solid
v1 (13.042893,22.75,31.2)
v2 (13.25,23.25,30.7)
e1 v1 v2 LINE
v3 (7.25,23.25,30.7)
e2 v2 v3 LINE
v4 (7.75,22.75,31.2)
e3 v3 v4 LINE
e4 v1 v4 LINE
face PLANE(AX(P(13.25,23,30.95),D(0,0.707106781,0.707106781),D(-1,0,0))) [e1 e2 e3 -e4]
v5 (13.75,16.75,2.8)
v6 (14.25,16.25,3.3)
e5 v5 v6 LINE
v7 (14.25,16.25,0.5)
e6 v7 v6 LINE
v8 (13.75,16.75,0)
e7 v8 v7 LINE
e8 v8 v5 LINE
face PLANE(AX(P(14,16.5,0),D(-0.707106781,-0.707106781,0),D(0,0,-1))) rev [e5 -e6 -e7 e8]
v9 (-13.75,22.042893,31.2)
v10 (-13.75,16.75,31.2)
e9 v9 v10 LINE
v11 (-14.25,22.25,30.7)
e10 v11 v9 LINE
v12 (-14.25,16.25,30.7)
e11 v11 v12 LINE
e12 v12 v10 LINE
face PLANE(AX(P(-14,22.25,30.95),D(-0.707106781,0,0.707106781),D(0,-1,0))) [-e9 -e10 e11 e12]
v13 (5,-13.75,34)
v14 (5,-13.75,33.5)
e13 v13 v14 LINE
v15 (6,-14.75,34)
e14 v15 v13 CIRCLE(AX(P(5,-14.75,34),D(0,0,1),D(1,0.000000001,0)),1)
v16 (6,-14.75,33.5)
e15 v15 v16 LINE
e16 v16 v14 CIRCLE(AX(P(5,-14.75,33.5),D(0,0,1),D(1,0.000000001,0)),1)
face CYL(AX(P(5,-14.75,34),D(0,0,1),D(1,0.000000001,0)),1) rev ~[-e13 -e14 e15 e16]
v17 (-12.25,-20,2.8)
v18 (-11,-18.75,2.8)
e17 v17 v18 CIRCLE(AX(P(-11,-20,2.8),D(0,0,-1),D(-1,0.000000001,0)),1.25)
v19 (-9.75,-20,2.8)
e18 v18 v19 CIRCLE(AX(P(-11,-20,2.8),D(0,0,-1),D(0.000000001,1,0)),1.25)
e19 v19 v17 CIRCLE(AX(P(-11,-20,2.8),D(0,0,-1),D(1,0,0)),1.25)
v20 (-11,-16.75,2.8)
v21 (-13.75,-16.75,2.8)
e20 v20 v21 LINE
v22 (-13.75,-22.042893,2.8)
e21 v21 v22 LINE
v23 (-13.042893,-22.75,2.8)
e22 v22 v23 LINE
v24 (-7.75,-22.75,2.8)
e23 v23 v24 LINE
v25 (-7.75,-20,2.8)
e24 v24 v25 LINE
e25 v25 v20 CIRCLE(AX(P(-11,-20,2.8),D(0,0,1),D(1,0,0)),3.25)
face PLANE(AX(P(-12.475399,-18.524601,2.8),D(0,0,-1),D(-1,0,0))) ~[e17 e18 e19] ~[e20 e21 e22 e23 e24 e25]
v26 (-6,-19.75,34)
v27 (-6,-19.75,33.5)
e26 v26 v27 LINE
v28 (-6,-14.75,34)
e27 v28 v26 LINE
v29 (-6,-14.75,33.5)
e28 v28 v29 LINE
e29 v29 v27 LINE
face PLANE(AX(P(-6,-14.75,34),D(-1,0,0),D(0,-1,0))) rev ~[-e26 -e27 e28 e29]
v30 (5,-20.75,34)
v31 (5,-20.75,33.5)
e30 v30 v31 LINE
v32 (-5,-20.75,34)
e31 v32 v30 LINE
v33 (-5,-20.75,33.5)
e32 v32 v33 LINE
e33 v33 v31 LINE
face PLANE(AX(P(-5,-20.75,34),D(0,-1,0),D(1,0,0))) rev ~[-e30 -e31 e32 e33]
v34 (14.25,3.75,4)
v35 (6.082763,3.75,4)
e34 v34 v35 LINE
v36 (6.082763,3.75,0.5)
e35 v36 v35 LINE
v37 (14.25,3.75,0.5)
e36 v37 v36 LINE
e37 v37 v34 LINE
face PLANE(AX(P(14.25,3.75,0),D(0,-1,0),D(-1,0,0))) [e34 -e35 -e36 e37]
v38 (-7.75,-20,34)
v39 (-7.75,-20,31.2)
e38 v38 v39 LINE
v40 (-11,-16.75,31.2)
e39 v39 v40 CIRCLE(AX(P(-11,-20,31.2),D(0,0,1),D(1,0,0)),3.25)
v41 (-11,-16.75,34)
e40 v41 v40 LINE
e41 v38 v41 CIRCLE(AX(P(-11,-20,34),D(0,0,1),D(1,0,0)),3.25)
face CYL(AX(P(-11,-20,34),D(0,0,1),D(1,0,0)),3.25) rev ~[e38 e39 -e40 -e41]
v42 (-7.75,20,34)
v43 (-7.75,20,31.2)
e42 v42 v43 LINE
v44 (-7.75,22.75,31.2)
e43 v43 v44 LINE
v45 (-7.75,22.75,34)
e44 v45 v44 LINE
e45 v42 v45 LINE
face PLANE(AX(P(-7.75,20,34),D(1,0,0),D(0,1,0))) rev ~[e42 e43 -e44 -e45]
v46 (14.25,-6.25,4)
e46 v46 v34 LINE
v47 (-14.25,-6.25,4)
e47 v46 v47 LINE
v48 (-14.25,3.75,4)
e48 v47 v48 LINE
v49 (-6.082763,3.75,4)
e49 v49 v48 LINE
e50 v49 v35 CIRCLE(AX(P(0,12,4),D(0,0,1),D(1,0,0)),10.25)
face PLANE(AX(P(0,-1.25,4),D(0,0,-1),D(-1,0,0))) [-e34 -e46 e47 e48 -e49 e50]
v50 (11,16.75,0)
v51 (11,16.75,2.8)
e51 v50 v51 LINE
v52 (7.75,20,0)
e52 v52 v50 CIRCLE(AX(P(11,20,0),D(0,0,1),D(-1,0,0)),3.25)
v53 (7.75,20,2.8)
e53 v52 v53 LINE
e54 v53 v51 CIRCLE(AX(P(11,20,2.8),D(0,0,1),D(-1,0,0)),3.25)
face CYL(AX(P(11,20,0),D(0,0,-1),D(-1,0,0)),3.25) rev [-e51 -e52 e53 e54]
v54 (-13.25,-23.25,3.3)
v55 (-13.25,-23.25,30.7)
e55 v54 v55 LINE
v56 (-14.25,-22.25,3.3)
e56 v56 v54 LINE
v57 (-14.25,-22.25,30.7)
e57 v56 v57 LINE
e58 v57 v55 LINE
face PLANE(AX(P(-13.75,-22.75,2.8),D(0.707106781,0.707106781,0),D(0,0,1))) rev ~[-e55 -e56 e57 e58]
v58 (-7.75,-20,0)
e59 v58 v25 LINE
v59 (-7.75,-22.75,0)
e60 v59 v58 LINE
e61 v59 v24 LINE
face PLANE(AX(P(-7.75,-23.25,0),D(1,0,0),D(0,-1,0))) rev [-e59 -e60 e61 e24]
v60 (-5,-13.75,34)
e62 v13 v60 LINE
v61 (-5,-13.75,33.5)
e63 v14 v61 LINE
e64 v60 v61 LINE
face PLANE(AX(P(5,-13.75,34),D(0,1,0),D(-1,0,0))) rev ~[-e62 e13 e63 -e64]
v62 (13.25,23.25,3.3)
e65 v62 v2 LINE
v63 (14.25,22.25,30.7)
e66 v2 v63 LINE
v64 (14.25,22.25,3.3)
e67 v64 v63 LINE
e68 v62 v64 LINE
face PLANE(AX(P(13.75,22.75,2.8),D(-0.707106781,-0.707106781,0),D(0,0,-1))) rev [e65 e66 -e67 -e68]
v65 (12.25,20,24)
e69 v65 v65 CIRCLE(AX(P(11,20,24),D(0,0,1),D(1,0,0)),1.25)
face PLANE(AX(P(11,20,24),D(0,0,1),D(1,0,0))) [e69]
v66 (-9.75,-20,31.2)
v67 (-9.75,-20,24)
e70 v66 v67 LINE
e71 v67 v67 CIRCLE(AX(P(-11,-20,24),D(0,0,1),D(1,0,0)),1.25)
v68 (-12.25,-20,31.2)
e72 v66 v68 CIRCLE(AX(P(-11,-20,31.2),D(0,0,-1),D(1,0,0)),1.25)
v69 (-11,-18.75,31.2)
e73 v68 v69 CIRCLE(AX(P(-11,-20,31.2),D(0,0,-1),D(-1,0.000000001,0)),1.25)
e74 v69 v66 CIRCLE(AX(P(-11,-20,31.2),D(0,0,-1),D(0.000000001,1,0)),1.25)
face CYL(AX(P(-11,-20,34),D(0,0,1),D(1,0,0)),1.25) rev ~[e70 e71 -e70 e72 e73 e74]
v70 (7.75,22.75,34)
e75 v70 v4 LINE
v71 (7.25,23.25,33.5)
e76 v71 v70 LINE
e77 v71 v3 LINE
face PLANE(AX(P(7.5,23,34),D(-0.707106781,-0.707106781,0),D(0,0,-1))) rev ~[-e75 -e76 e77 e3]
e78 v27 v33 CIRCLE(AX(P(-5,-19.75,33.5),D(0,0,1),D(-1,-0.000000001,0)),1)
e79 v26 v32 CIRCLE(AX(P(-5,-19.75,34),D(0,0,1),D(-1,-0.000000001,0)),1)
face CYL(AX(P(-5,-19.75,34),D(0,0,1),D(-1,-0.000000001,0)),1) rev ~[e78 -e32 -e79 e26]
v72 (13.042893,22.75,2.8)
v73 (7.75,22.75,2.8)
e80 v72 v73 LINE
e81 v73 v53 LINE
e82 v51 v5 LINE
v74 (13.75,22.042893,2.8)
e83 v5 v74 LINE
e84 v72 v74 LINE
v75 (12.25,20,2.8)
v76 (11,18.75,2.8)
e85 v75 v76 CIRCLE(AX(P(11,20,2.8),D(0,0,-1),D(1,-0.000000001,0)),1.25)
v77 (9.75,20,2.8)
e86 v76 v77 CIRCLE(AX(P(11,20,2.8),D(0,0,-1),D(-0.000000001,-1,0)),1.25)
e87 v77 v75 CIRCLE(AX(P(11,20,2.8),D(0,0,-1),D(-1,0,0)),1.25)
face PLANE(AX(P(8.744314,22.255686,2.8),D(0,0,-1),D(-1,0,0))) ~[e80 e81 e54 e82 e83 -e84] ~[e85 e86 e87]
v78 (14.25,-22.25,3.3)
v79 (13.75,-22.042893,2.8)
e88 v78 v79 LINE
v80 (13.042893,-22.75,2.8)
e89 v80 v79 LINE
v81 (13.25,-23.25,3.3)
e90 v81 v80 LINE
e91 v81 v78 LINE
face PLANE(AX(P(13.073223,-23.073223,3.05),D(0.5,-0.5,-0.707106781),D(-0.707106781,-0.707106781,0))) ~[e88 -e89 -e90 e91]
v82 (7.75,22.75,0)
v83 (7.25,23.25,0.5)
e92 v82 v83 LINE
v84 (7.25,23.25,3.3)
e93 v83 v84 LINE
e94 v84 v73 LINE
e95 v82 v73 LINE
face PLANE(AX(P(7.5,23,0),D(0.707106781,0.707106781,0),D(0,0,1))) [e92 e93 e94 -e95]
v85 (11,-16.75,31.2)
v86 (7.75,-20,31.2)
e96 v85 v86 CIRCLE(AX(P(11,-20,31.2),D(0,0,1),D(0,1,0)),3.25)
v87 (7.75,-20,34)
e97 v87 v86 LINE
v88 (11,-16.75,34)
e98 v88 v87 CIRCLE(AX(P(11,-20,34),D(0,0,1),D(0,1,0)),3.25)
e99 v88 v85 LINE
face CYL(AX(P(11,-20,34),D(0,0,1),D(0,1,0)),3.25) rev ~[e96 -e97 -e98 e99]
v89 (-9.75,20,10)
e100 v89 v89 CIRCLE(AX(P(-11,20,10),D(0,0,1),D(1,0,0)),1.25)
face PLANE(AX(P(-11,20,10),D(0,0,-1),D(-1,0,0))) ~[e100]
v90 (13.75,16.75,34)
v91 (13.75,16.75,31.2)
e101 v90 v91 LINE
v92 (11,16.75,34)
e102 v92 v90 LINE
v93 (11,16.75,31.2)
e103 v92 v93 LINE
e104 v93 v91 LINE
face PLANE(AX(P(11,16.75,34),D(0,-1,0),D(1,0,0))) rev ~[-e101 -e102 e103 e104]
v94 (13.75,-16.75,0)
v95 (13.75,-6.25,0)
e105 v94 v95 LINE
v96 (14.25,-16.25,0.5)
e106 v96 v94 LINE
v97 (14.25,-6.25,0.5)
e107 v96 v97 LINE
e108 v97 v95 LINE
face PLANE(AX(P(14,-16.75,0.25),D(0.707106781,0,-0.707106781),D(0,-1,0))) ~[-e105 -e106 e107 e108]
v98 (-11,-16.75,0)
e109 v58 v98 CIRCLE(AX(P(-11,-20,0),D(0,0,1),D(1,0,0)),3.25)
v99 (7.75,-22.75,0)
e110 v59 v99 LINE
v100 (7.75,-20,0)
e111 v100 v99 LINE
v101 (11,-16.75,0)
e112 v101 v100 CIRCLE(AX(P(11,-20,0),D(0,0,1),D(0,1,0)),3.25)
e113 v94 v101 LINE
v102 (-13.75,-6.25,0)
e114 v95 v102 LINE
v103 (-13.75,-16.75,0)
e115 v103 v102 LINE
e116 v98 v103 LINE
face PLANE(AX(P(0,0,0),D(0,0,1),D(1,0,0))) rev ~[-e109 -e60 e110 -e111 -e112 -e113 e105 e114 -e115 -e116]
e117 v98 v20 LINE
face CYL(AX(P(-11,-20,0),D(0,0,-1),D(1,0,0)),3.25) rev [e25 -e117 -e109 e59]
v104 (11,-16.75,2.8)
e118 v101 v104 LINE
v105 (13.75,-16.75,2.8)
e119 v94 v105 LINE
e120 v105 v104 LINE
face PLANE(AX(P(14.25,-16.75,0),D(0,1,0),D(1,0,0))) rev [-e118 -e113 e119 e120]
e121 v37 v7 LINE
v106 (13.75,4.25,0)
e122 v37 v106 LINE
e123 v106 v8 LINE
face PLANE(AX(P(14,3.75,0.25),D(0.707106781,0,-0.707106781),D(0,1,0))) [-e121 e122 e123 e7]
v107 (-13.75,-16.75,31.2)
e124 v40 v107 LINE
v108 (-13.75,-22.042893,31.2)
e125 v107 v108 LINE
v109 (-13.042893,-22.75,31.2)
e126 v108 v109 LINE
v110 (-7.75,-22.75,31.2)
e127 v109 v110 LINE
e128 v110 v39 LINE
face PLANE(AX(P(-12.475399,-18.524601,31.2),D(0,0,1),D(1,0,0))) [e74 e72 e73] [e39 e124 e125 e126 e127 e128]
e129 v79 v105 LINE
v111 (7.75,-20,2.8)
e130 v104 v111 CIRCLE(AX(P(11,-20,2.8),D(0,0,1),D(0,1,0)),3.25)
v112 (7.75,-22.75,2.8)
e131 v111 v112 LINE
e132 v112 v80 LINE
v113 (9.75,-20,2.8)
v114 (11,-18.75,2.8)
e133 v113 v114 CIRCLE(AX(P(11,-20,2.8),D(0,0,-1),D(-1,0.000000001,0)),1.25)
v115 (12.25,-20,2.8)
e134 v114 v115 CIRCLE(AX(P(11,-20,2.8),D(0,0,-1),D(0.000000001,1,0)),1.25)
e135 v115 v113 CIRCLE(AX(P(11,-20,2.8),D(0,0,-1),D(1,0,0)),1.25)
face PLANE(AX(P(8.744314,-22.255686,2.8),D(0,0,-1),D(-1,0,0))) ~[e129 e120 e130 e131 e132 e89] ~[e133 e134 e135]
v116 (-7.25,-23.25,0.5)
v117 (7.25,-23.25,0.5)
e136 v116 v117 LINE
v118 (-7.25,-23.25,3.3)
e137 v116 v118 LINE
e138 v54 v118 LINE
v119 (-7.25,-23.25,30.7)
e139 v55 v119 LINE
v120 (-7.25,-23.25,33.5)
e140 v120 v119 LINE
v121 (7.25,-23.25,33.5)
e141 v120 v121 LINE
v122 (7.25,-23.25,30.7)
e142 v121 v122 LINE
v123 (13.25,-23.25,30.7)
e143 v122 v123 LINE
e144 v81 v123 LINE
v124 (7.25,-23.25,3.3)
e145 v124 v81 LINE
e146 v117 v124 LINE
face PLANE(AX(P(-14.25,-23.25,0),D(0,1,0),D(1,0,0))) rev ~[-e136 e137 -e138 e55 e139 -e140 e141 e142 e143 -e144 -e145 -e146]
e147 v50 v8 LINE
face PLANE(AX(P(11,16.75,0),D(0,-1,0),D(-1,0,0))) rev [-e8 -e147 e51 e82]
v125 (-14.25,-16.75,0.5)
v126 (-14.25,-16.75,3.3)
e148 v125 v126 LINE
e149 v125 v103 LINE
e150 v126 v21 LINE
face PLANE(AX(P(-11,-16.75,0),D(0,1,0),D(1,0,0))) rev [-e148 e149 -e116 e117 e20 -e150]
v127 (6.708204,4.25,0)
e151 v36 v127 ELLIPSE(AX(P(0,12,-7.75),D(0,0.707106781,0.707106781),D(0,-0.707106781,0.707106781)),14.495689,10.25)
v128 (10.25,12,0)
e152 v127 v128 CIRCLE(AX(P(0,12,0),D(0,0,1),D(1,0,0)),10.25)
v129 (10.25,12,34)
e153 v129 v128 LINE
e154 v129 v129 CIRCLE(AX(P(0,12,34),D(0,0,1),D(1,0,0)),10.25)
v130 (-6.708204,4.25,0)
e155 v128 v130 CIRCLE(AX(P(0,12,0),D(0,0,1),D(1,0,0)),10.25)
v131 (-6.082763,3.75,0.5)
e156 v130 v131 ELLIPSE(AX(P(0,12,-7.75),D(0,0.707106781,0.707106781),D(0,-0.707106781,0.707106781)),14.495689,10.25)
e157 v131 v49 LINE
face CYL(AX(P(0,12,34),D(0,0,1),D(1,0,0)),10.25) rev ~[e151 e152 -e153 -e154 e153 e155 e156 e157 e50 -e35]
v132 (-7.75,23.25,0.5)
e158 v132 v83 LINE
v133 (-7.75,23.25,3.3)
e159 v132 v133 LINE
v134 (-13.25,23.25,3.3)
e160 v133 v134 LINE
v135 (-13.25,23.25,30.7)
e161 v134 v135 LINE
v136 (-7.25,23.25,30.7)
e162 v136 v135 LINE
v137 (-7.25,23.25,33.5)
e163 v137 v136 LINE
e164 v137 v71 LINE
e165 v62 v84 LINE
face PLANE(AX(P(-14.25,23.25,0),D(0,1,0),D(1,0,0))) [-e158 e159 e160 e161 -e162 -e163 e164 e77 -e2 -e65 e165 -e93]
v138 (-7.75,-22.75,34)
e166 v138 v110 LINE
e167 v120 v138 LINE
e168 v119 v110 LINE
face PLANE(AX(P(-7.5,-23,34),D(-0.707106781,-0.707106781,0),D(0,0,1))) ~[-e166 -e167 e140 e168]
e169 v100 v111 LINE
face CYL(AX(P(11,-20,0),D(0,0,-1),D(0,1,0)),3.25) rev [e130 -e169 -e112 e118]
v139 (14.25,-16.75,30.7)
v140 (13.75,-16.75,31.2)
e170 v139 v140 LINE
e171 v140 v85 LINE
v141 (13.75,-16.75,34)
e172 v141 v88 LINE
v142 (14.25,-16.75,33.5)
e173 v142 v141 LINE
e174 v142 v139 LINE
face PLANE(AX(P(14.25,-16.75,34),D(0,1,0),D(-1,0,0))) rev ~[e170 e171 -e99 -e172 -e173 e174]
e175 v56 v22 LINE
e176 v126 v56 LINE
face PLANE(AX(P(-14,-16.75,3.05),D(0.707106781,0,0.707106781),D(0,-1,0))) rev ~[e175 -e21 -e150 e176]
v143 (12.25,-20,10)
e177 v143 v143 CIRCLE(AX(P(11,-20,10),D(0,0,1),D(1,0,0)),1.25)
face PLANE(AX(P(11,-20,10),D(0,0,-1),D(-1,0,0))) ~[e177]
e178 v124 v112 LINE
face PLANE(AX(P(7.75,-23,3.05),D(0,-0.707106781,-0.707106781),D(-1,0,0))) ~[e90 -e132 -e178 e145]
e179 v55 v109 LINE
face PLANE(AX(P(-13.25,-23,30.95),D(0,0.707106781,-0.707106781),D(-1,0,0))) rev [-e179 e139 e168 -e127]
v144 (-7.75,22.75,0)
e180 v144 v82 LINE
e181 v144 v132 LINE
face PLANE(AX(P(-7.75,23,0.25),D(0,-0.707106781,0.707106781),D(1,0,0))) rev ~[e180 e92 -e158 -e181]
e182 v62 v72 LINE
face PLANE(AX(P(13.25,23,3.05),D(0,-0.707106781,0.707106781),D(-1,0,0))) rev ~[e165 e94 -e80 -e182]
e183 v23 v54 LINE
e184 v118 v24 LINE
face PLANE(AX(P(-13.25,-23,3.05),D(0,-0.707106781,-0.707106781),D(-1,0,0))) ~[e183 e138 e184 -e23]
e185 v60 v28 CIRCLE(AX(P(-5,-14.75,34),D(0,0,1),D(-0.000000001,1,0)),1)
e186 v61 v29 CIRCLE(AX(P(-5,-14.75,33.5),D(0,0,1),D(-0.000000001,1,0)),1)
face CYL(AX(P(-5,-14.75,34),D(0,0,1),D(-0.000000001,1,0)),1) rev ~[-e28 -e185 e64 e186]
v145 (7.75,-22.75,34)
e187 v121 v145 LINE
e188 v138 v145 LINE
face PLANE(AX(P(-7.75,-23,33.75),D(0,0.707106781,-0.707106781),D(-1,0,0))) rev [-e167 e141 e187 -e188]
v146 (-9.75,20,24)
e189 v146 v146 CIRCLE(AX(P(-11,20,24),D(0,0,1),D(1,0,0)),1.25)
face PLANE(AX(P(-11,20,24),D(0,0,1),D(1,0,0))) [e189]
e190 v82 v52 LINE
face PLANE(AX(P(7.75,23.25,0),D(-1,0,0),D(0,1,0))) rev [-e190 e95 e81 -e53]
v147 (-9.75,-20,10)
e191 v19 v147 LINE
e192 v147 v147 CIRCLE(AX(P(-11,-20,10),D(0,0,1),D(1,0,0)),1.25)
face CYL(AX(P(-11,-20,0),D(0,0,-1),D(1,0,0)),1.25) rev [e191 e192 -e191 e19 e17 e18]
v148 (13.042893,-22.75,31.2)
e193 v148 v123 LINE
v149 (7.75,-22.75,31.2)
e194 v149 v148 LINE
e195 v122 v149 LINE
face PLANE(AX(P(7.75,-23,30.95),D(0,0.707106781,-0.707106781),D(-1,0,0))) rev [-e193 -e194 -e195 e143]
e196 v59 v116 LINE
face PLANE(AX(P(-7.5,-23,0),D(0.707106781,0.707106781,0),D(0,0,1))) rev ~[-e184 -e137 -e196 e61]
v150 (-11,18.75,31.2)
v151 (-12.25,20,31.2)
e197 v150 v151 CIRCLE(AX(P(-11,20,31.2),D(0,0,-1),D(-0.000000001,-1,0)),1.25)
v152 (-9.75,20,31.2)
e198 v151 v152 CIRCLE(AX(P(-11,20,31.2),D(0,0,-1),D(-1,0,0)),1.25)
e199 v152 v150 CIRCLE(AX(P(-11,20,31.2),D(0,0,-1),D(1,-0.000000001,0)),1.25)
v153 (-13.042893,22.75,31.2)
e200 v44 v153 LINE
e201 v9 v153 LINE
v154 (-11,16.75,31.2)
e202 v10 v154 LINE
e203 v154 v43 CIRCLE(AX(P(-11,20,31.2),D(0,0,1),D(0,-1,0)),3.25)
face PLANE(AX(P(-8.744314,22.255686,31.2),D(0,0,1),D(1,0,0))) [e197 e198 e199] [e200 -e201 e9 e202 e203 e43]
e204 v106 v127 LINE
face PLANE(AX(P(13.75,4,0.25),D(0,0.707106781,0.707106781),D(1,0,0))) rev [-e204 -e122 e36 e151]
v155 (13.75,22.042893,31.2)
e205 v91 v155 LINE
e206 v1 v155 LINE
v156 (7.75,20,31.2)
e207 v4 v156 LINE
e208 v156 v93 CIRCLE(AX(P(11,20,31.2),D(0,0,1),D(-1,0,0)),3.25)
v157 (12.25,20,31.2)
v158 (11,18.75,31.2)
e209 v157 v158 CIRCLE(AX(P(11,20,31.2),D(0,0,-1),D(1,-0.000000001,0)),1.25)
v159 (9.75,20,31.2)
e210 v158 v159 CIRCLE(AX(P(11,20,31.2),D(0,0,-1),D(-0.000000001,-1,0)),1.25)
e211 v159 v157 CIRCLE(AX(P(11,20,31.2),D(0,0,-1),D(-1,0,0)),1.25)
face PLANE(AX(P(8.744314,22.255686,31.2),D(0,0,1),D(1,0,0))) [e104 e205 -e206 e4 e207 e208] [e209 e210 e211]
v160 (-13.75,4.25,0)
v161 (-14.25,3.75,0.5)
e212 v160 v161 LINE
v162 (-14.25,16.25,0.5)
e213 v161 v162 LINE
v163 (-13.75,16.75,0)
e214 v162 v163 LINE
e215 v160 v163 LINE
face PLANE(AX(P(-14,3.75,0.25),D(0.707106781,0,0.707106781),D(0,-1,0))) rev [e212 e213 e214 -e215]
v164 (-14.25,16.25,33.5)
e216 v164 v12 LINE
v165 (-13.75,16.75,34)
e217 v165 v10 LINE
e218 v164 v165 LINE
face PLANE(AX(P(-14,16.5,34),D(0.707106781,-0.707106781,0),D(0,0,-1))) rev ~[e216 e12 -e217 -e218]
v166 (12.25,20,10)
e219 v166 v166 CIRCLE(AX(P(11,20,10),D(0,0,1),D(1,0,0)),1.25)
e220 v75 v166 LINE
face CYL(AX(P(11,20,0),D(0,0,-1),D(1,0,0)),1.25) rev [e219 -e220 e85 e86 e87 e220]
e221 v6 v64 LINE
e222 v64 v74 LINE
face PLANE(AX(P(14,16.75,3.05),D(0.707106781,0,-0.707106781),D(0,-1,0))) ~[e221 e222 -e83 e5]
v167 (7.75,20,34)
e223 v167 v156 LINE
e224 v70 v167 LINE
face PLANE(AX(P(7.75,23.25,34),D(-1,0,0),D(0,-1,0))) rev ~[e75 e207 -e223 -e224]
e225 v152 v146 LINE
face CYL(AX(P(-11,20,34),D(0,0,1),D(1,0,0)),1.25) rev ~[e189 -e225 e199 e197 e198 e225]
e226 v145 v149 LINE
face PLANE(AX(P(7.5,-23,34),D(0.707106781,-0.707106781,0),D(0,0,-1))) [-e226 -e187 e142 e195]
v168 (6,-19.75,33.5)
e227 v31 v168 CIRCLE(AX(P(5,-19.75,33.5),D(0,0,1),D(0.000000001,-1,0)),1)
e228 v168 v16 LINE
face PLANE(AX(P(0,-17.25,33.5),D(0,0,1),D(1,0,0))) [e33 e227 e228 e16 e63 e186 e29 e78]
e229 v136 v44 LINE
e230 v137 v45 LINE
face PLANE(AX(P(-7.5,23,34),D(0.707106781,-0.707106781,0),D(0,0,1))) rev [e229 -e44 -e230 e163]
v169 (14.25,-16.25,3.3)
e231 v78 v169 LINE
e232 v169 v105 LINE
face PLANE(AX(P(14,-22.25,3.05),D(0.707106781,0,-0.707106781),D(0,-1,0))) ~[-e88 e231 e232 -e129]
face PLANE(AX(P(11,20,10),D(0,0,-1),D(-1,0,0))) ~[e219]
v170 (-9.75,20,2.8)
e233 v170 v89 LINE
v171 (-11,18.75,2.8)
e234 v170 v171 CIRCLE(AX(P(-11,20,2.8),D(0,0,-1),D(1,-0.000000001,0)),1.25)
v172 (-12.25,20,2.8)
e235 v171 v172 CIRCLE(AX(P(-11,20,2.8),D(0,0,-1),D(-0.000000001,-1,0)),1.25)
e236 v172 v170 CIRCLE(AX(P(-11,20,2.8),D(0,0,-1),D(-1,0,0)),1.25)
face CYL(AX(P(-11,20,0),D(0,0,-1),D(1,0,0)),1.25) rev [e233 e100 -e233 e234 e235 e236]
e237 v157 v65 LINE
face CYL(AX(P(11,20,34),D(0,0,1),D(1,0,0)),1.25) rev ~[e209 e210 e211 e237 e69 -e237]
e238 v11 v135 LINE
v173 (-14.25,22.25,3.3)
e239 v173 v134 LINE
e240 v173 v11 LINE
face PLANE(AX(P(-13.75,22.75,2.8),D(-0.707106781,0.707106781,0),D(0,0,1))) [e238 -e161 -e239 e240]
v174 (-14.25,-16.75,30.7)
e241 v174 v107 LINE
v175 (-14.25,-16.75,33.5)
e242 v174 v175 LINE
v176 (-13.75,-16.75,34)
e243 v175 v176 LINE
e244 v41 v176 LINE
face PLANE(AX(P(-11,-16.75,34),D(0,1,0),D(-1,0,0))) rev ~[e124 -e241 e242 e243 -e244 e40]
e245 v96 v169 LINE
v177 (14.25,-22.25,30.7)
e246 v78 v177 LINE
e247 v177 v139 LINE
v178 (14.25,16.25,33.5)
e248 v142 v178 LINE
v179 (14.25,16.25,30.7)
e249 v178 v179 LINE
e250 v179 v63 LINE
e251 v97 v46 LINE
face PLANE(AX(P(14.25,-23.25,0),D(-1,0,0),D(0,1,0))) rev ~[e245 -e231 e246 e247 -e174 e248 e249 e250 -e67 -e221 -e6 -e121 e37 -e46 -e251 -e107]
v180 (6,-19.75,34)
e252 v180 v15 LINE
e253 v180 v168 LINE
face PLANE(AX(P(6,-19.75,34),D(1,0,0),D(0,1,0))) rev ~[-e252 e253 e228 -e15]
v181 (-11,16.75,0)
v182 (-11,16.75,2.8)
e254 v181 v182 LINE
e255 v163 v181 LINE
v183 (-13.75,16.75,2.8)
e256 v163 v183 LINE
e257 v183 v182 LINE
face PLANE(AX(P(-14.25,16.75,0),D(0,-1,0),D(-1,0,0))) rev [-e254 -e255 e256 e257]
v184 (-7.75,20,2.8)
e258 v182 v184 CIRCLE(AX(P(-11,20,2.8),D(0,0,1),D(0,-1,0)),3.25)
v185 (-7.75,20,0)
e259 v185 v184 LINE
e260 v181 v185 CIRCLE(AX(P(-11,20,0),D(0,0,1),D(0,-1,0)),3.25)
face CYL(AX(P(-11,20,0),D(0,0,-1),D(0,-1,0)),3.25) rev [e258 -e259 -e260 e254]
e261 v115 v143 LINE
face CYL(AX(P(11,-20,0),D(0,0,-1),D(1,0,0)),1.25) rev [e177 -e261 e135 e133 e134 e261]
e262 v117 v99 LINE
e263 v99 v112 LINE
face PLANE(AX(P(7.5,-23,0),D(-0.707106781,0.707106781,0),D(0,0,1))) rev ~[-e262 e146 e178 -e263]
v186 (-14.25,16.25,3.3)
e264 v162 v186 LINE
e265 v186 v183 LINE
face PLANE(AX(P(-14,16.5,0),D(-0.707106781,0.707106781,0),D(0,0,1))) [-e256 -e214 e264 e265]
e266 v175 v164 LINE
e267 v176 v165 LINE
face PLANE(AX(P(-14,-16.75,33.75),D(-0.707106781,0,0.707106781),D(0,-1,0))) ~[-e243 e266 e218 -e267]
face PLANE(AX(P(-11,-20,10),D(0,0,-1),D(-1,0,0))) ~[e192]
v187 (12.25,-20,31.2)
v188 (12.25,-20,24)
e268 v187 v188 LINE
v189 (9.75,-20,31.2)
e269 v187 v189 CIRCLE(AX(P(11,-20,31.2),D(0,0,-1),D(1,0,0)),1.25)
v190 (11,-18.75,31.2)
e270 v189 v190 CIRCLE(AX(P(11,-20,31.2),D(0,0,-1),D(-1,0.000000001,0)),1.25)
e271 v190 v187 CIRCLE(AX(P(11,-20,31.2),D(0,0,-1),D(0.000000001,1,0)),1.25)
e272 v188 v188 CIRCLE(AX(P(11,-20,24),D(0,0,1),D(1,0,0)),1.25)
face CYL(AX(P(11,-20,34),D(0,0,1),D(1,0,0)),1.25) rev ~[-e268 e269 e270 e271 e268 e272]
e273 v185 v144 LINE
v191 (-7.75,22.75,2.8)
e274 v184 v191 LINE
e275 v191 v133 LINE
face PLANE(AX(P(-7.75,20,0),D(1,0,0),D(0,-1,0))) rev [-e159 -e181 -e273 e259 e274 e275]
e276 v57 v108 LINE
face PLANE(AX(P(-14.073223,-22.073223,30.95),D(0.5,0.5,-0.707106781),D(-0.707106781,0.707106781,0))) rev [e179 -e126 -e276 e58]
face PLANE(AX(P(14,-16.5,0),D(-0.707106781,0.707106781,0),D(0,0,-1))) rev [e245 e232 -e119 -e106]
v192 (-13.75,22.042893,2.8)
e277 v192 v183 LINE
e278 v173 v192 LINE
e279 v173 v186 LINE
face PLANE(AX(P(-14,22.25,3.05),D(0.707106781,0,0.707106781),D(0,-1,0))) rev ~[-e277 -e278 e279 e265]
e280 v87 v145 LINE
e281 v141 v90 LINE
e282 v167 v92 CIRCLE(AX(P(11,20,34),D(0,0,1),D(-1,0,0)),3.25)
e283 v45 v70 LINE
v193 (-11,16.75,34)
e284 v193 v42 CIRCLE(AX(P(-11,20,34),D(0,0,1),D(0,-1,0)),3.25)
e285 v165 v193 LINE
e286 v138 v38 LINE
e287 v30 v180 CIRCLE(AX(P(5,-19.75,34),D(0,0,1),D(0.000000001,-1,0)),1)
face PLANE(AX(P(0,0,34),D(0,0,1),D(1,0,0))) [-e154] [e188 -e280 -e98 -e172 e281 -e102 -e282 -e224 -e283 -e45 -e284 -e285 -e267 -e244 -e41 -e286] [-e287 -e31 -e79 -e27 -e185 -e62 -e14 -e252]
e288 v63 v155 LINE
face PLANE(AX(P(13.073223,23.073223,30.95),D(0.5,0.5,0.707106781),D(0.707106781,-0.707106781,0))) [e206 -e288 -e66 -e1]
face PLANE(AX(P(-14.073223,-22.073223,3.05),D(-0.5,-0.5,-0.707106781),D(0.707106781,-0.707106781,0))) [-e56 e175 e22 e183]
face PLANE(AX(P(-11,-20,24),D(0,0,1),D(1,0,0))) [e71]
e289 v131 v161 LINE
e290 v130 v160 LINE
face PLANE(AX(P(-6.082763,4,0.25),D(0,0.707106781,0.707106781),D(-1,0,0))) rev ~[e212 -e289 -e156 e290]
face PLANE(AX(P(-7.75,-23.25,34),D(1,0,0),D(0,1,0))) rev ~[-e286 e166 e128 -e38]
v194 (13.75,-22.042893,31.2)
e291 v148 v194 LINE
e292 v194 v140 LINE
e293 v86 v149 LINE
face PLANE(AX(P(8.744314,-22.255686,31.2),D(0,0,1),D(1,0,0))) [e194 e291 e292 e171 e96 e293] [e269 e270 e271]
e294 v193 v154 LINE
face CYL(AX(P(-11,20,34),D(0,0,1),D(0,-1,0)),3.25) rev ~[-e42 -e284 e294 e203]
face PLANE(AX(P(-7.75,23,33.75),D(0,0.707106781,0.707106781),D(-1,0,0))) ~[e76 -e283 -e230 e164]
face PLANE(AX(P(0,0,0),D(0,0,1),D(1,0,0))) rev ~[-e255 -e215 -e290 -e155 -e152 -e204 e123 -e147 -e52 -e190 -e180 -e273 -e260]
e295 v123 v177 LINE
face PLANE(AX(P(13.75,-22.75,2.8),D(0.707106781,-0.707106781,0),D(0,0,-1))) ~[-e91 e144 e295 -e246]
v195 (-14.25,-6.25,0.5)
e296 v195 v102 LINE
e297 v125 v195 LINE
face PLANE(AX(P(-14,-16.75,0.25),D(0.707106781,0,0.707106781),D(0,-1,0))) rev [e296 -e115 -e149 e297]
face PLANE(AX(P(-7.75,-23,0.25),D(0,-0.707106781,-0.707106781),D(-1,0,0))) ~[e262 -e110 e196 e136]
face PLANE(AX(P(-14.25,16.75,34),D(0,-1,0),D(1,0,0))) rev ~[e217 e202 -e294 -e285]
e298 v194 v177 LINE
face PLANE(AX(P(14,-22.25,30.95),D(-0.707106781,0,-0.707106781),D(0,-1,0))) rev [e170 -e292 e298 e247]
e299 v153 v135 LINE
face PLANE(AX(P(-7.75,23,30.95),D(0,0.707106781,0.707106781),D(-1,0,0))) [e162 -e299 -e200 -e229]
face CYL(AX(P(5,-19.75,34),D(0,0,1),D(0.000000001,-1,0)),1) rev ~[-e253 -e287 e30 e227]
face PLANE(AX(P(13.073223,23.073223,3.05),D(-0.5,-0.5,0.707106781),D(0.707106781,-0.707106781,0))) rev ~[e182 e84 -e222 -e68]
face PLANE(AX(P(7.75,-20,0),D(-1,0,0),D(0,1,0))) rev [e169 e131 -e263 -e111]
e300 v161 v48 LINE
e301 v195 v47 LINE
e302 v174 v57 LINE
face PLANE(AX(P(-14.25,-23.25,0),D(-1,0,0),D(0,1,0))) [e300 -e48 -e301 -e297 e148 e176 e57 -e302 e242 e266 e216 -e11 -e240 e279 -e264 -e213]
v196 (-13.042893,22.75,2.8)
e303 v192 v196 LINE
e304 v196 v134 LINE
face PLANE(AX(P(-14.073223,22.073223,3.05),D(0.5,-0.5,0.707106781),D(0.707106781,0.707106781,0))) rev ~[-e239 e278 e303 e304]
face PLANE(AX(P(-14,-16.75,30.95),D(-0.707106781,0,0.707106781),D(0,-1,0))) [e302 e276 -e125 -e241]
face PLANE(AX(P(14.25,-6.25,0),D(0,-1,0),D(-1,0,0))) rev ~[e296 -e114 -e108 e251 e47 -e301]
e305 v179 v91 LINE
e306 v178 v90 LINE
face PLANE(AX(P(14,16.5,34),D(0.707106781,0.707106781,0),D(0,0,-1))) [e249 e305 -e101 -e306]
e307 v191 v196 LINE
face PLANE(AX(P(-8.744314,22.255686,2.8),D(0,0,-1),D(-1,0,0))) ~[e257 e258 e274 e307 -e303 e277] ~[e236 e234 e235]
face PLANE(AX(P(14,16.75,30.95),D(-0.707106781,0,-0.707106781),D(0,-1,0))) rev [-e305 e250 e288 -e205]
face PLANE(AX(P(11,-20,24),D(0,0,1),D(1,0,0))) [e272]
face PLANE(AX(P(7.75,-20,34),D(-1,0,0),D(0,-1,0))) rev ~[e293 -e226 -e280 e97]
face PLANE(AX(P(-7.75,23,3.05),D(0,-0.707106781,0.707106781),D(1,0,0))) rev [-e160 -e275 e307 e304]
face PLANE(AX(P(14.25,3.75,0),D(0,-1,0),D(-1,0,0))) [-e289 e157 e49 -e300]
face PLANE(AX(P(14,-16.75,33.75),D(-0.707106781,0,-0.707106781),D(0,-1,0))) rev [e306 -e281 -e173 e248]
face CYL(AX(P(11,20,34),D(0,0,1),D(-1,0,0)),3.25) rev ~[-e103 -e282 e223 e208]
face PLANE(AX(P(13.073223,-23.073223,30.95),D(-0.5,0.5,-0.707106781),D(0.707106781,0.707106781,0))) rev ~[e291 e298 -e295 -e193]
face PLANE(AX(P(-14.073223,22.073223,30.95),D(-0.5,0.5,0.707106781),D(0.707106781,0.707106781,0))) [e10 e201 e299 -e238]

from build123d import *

# Parameters (mm, degrees)
SKETCH1_W           = 28.5
SKETCH1_H           = 46.5
BOSS_EXTRUDE1_DEPTH = 34
SKETCH2_R           = 10.25
CUT_EXTRUDE1_DEPTH  = 35
SKETCH3_R           = 1.25
CUT_EXTRUDE2_DEPTH  = 10
CUT_EXTRUDE3_DEPTH  = 0.5
CUT_EXTRUDE4_DEPTH  = 2.8
SKETCH6_W           = 28.5
SKETCH6_H           = 10
CUT_EXTRUDE5_DEPTH  = 4
CHAMFER1_SIZE       = 1
CHAMFER2_SIZE       = 0.5
CHAMFER3_SIZE       = 0.5


with BuildPart() as part:
    # Sketch1 → Boss-Extrude1 (new body)
    with BuildSketch(Plane.XY):
        Rectangle(SKETCH1_W, SKETCH1_H)
    extrude(amount=BOSS_EXTRUDE1_DEPTH)

    # Sketch2 → Cut-Extrude1 (cut, through all)
    with BuildSketch(Plane.XY.offset(34)):
        with Locations((0, 12)):
            Circle(SKETCH2_R)
    extrude(amount=-CUT_EXTRUDE1_DEPTH, mode=Mode.SUBTRACT)

    # Sketch3 → Cut-Extrude2 (cut)
    with BuildSketch(Plane.XY.offset(34)):
        with Locations((-11, 20)):
            Circle(SKETCH3_R)
        with Locations((11, 20)):
            Circle(SKETCH3_R)
        with Locations((11, -20)):
            Circle(SKETCH3_R)
        with Locations((-11, -20)):
            Circle(SKETCH3_R)
    cut_extrude2 = extrude(amount=-CUT_EXTRUDE2_DEPTH, mode=Mode.SUBTRACT)

    # Sketch4 → Cut-Extrude3 (cut)
    with BuildSketch(Plane.XY.offset(34)):
        with BuildLine():
            Line((-5, -20.75), (5, -20.75))
            ThreePointArc((5, -20.75), (5.707106781, -20.457106781), (6, -19.75))
            Line((6, -19.75), (6, -14.75))
            ThreePointArc((6, -14.75), (5.707106781, -14.042893219), (5, -13.75))
            Line((5, -13.75), (-5, -13.75))
            ThreePointArc((-5, -13.75), (-5.707106781, -14.042893219), (-6, -14.75))
            Line((-6, -14.75), (-6, -19.75))
            ThreePointArc((-6, -19.75), (-5.707106781, -20.457106781), (-5, -20.75))
        make_face()
    extrude(amount=-CUT_EXTRUDE3_DEPTH, mode=Mode.SUBTRACT)

    # Sketch5 → Cut-Extrude4 (cut)
    with BuildSketch(Plane.XY.offset(34)):
        with BuildLine():
            Line((-7.75, 23.25), (-11, 23.25))
            ThreePointArc((-11, 23.25), (-8.701902961, 22.298097039), (-7.75, 20))
            Line((-7.75, 20), (-7.75, 23.25))
        make_face()
        with BuildLine():
            Line((-11, 23.25), (-14.25, 23.25))
            Line((-14.25, 23.25), (-14.25, 20))
            ThreePointArc((-14.25, 20), (-13.298097039, 22.298097039), (-11, 23.25))
        make_face()
        with BuildLine():
            ThreePointArc((-11, 16.75), (-13.298097039, 17.701902961), (-14.25, 20))
            Line((-14.25, 20), (-14.25, 16.75))
            Line((-14.25, 16.75), (-11, 16.75))
        make_face()
        with BuildLine():
            Line((-12.25, 20), (-14.25, 20))
            ThreePointArc((-14.25, 20), (-13.298097039, 17.701902961), (-11, 16.75))
            Line((-11, 16.75), (-11, 18.75))
            ThreePointArc((-11, 18.75), (-11.883883476, 19.116116524), (-12.25, 20))
        make_face()
        with BuildLine():
            ThreePointArc((-11, 16.75), (-8.701902961, 17.701902961), (-7.75, 20))
            Line((-7.75, 20), (-9.75, 20))
            ThreePointArc((-9.75, 20), (-10.116116524, 19.116116524), (-11, 18.75))
            Line((-11, 18.75), (-11, 16.75))
        make_face()
        with BuildLine():
            ThreePointArc((-7.75, 20), (-8.701902961, 22.298097039), (-11, 23.25))
            ThreePointArc((-11, 23.25), (-13.298097039, 22.298097039), (-14.25, 20))
            Line((-14.25, 20), (-12.25, 20))
            ThreePointArc((-12.25, 20), (-11, 21.25), (-9.75, 20))
            Line((-9.75, 20), (-7.75, 20))
        make_face()
        with BuildLine():
            Line((11, 23.25), (7.75, 23.25))
            Line((7.75, 23.25), (7.75, 20))
            ThreePointArc((7.75, 20), (8.701902961, 22.298097039), (11, 23.25))
        make_face()
        with BuildLine():
            Line((14.25, 23.25), (11, 23.25))
            ThreePointArc((11, 23.25), (13.298097039, 22.298097039), (14.25, 20))
            Line((14.25, 20), (14.25, 23.25))
        make_face()
        with BuildLine():
            ThreePointArc((14.25, 20), (13.298097039, 17.701902961), (11, 16.75))
            Line((11, 16.75), (14.25, 16.75))
            Line((14.25, 16.75), (14.25, 20))
        make_face()
        with BuildLine():
            Line((9.75, 20), (7.75, 20))
            ThreePointArc((7.75, 20), (8.701902961, 17.701902961), (11, 16.75))
            Line((11, 16.75), (11, 18.75))
            ThreePointArc((11, 18.75), (10.116116524, 19.116116524), (9.75, 20))
        make_face()
        with BuildLine():
            Line((11, 18.75), (11, 16.75))
            ThreePointArc((11, 16.75), (13.298097039, 17.701902961), (14.25, 20))
            Line((14.25, 20), (12.25, 20))
            ThreePointArc((12.25, 20), (11.883883476, 19.116116524), (11, 18.75))
        make_face()
        with BuildLine():
            ThreePointArc((11, 23.25), (8.701902961, 22.298097039), (7.75, 20))
            Line((7.75, 20), (9.75, 20))
            ThreePointArc((9.75, 20), (11, 21.25), (12.25, 20))
            Line((12.25, 20), (14.25, 20))
            ThreePointArc((14.25, 20), (13.298097039, 22.298097039), (11, 23.25))
        make_face()
        with BuildLine():
            ThreePointArc((-11, -16.75), (-13.298097039, -17.701902961), (-14.25, -20))
            Line((-14.25, -20), (-12.25, -20))
            ThreePointArc((-12.25, -20), (-11.883883476, -19.116116524), (-11, -18.75))
            Line((-11, -18.75), (-11, -16.75))
        make_face()
        with BuildLine():
            ThreePointArc((-7.75, -20), (-8.701902961, -17.701902961), (-11, -16.75))
            Line((-11, -16.75), (-11, -18.75))
            ThreePointArc((-11, -18.75), (-10.116116524, -19.116116524), (-9.75, -20))
            Line((-9.75, -20), (-7.75, -20))
        make_face()
        with BuildLine():
            Line((-12.25, -20), (-14.25, -20))
            ThreePointArc((-14.25, -20), (-13.298097039, -22.298097039), (-11, -23.25))
            ThreePointArc((-11, -23.25), (-8.701902961, -22.298097039), (-7.75, -20))
            Line((-7.75, -20), (-9.75, -20))
            ThreePointArc((-9.75, -20), (-11, -21.25), (-12.25, -20))
        make_face()
        with BuildLine():
            Line((-11, -16.75), (-14.25, -16.75))
            Line((-14.25, -16.75), (-14.25, -20))
            ThreePointArc((-14.25, -20), (-13.298097039, -17.701902961), (-11, -16.75))
        make_face()
        with BuildLine():
            ThreePointArc((-11, -23.25), (-13.298097039, -22.298097039), (-14.25, -20))
            Line((-14.25, -20), (-14.25, -23.25))
            Line((-14.25, -23.25), (-11, -23.25))
        make_face()
        with BuildLine():
            ThreePointArc((-7.75, -20), (-8.701902961, -22.298097039), (-11, -23.25))
            Line((-11, -23.25), (-7.75, -23.25))
            Line((-7.75, -23.25), (-7.75, -20))
        make_face()
        with BuildLine():
            Line((7.75, -20), (7.75, -23.25))
            Line((7.75, -23.25), (11, -23.25))
            ThreePointArc((11, -23.25), (8.701902961, -22.298097039), (7.75, -20))
        make_face()
        with BuildLine():
            ThreePointArc((11, -23.25), (13.298097039, -22.298097039), (14.25, -20))
            Line((14.25, -20), (12.25, -20))
            ThreePointArc((12.25, -20), (11, -21.25), (9.75, -20))
            Line((9.75, -20), (7.75, -20))
            ThreePointArc((7.75, -20), (8.701902961, -22.298097039), (11, -23.25))
        make_face()
        with BuildLine():
            Line((14.25, -23.25), (14.25, -20))
            ThreePointArc((14.25, -20), (13.298097039, -22.298097039), (11, -23.25))
            Line((11, -23.25), (14.25, -23.25))
        make_face()
        with BuildLine():
            ThreePointArc((14.25, -20), (13.298097039, -17.701902961), (11, -16.75))
            Line((11, -16.75), (11, -18.75))
            ThreePointArc((11, -18.75), (11.883883476, -19.116116524), (12.25, -20))
            Line((12.25, -20), (14.25, -20))
        make_face()
        with BuildLine():
            Line((11, -18.75), (11, -16.75))
            ThreePointArc((11, -16.75), (8.701902961, -17.701902961), (7.75, -20))
            Line((7.75, -20), (9.75, -20))
            ThreePointArc((9.75, -20), (10.116116524, -19.116116524), (11, -18.75))
        make_face()
        with BuildLine():
            Line((14.25, -20), (14.25, -16.75))
            Line((14.25, -16.75), (11, -16.75))
            ThreePointArc((11, -16.75), (13.298097039, -17.701902961), (14.25, -20))
        make_face()
    cut_extrude4 = extrude(amount=-CUT_EXTRUDE4_DEPTH, mode=Mode.SUBTRACT)

    # Mirror1: Cut-Extrude4 across plane
    add(cut_extrude4.mirror(Plane.XY.offset(17)), mode=Mode.SUBTRACT)

    # Mirror2: Cut-Extrude2 across plane
    add(cut_extrude2.mirror(Plane.XY.offset(17)), mode=Mode.SUBTRACT)

    # Sketch6 → Cut-Extrude5 (cut)
    with BuildSketch(Plane(origin=(0, 0, 0), x_dir=(-1, 0, 0), z_dir=(0, 0, -1))):
        with Locations((0, -1.25)):
            Rectangle(SKETCH6_W, SKETCH6_H)
    extrude(amount=-CUT_EXTRUDE5_DEPTH, mode=Mode.SUBTRACT)

    # Chamfer1
    chamfer1_edges = [part.edges().sort_by_distance(p)[0] for p in [
        (14.25, -23.25, 17),
        (-14.25, -23.25, 17),
        (-14.25, 23.25, 17),
        (14.25, 23.25, 17),
    ]]
    chamfer(chamfer1_edges, length=CHAMFER1_SIZE)

    # Chamfer2
    chamfer2_edges = [part.edges().sort_by_distance(p)[0] for p in [
        (-14.25, 10.25, 0),
        (0, 23.25, 0),
        (7.75, 23.25, 1.4),
        (14.25, 16.75, 1.4),
        (14.25, 19.5, 2.8),
        (-14.25, 16.75, 1.4),
        (-10.5, 23.25, 2.8),
        (14.25, 10.25, 0),
        (-14.25, 19.5, 2.8),
        (-13.75, 22.75, 2.8),
        (10.5, 23.25, 2.8),
        (13.75, 22.75, 2.8),
    ]]
    chamfer(chamfer2_edges, length=CHAMFER2_SIZE)

    # Chamfer3
    chamfer3_edges = [part.edges().sort_by_distance(p)[0] for p in [
        (-9.916381265, 3.75, 0),
        (9.916381265, 3.75, 0),
        (-14.25, -11.5, 0),
        (-14.25, -19.5, 2.8),
        (-13.75, -22.75, 31.2),
        (-13.75, -22.75, 2.8),
        (-10.5, -23.25, 2.8),
        (-7.75, -23.25, 1.4),
        (14.25, -11.5, 0),
        (14.25, -16.75, 1.4),
        (0, -23.25, 0),
        (7.75, -23.25, 1.4),
        (10.5, -23.25, 2.8),
        (14.25, -19.5, 2.8),
        (13.75, -22.75, 31.2),
        (13.75, -22.75, 2.8),
        (-14.25, -19.5, 31.2),
        (-10.5, -23.25, 31.2),
        (-7.75, -23.25, 32.6),
        (0, -23.25, 34),
        (7.75, -23.25, 32.6),
        (14.25, -19.5, 31.2),
        (10.5, -23.25, 31.2),
        (14.25, 0, 34),
        (14.25, 16.75, 32.6),
        (14.25, 19.5, 31.2),
        (13.75, 22.75, 31.2),
        (10.5, 23.25, 31.2),
        (7.75, 23.25, 32.6),
        (0, 23.25, 34),
        (-7.75, 23.25, 32.6),
        (-14.25, 0, 34),
        (-14.25, 16.75, 32.6),
        (-14.25, 19.5, 31.2),
        (-13.75, 22.75, 31.2),
        (-10.5, 23.25, 31.2),
    ]]
    chamfer(chamfer3_edges, length=CHAMFER3_SIZE)


solid = part.part
